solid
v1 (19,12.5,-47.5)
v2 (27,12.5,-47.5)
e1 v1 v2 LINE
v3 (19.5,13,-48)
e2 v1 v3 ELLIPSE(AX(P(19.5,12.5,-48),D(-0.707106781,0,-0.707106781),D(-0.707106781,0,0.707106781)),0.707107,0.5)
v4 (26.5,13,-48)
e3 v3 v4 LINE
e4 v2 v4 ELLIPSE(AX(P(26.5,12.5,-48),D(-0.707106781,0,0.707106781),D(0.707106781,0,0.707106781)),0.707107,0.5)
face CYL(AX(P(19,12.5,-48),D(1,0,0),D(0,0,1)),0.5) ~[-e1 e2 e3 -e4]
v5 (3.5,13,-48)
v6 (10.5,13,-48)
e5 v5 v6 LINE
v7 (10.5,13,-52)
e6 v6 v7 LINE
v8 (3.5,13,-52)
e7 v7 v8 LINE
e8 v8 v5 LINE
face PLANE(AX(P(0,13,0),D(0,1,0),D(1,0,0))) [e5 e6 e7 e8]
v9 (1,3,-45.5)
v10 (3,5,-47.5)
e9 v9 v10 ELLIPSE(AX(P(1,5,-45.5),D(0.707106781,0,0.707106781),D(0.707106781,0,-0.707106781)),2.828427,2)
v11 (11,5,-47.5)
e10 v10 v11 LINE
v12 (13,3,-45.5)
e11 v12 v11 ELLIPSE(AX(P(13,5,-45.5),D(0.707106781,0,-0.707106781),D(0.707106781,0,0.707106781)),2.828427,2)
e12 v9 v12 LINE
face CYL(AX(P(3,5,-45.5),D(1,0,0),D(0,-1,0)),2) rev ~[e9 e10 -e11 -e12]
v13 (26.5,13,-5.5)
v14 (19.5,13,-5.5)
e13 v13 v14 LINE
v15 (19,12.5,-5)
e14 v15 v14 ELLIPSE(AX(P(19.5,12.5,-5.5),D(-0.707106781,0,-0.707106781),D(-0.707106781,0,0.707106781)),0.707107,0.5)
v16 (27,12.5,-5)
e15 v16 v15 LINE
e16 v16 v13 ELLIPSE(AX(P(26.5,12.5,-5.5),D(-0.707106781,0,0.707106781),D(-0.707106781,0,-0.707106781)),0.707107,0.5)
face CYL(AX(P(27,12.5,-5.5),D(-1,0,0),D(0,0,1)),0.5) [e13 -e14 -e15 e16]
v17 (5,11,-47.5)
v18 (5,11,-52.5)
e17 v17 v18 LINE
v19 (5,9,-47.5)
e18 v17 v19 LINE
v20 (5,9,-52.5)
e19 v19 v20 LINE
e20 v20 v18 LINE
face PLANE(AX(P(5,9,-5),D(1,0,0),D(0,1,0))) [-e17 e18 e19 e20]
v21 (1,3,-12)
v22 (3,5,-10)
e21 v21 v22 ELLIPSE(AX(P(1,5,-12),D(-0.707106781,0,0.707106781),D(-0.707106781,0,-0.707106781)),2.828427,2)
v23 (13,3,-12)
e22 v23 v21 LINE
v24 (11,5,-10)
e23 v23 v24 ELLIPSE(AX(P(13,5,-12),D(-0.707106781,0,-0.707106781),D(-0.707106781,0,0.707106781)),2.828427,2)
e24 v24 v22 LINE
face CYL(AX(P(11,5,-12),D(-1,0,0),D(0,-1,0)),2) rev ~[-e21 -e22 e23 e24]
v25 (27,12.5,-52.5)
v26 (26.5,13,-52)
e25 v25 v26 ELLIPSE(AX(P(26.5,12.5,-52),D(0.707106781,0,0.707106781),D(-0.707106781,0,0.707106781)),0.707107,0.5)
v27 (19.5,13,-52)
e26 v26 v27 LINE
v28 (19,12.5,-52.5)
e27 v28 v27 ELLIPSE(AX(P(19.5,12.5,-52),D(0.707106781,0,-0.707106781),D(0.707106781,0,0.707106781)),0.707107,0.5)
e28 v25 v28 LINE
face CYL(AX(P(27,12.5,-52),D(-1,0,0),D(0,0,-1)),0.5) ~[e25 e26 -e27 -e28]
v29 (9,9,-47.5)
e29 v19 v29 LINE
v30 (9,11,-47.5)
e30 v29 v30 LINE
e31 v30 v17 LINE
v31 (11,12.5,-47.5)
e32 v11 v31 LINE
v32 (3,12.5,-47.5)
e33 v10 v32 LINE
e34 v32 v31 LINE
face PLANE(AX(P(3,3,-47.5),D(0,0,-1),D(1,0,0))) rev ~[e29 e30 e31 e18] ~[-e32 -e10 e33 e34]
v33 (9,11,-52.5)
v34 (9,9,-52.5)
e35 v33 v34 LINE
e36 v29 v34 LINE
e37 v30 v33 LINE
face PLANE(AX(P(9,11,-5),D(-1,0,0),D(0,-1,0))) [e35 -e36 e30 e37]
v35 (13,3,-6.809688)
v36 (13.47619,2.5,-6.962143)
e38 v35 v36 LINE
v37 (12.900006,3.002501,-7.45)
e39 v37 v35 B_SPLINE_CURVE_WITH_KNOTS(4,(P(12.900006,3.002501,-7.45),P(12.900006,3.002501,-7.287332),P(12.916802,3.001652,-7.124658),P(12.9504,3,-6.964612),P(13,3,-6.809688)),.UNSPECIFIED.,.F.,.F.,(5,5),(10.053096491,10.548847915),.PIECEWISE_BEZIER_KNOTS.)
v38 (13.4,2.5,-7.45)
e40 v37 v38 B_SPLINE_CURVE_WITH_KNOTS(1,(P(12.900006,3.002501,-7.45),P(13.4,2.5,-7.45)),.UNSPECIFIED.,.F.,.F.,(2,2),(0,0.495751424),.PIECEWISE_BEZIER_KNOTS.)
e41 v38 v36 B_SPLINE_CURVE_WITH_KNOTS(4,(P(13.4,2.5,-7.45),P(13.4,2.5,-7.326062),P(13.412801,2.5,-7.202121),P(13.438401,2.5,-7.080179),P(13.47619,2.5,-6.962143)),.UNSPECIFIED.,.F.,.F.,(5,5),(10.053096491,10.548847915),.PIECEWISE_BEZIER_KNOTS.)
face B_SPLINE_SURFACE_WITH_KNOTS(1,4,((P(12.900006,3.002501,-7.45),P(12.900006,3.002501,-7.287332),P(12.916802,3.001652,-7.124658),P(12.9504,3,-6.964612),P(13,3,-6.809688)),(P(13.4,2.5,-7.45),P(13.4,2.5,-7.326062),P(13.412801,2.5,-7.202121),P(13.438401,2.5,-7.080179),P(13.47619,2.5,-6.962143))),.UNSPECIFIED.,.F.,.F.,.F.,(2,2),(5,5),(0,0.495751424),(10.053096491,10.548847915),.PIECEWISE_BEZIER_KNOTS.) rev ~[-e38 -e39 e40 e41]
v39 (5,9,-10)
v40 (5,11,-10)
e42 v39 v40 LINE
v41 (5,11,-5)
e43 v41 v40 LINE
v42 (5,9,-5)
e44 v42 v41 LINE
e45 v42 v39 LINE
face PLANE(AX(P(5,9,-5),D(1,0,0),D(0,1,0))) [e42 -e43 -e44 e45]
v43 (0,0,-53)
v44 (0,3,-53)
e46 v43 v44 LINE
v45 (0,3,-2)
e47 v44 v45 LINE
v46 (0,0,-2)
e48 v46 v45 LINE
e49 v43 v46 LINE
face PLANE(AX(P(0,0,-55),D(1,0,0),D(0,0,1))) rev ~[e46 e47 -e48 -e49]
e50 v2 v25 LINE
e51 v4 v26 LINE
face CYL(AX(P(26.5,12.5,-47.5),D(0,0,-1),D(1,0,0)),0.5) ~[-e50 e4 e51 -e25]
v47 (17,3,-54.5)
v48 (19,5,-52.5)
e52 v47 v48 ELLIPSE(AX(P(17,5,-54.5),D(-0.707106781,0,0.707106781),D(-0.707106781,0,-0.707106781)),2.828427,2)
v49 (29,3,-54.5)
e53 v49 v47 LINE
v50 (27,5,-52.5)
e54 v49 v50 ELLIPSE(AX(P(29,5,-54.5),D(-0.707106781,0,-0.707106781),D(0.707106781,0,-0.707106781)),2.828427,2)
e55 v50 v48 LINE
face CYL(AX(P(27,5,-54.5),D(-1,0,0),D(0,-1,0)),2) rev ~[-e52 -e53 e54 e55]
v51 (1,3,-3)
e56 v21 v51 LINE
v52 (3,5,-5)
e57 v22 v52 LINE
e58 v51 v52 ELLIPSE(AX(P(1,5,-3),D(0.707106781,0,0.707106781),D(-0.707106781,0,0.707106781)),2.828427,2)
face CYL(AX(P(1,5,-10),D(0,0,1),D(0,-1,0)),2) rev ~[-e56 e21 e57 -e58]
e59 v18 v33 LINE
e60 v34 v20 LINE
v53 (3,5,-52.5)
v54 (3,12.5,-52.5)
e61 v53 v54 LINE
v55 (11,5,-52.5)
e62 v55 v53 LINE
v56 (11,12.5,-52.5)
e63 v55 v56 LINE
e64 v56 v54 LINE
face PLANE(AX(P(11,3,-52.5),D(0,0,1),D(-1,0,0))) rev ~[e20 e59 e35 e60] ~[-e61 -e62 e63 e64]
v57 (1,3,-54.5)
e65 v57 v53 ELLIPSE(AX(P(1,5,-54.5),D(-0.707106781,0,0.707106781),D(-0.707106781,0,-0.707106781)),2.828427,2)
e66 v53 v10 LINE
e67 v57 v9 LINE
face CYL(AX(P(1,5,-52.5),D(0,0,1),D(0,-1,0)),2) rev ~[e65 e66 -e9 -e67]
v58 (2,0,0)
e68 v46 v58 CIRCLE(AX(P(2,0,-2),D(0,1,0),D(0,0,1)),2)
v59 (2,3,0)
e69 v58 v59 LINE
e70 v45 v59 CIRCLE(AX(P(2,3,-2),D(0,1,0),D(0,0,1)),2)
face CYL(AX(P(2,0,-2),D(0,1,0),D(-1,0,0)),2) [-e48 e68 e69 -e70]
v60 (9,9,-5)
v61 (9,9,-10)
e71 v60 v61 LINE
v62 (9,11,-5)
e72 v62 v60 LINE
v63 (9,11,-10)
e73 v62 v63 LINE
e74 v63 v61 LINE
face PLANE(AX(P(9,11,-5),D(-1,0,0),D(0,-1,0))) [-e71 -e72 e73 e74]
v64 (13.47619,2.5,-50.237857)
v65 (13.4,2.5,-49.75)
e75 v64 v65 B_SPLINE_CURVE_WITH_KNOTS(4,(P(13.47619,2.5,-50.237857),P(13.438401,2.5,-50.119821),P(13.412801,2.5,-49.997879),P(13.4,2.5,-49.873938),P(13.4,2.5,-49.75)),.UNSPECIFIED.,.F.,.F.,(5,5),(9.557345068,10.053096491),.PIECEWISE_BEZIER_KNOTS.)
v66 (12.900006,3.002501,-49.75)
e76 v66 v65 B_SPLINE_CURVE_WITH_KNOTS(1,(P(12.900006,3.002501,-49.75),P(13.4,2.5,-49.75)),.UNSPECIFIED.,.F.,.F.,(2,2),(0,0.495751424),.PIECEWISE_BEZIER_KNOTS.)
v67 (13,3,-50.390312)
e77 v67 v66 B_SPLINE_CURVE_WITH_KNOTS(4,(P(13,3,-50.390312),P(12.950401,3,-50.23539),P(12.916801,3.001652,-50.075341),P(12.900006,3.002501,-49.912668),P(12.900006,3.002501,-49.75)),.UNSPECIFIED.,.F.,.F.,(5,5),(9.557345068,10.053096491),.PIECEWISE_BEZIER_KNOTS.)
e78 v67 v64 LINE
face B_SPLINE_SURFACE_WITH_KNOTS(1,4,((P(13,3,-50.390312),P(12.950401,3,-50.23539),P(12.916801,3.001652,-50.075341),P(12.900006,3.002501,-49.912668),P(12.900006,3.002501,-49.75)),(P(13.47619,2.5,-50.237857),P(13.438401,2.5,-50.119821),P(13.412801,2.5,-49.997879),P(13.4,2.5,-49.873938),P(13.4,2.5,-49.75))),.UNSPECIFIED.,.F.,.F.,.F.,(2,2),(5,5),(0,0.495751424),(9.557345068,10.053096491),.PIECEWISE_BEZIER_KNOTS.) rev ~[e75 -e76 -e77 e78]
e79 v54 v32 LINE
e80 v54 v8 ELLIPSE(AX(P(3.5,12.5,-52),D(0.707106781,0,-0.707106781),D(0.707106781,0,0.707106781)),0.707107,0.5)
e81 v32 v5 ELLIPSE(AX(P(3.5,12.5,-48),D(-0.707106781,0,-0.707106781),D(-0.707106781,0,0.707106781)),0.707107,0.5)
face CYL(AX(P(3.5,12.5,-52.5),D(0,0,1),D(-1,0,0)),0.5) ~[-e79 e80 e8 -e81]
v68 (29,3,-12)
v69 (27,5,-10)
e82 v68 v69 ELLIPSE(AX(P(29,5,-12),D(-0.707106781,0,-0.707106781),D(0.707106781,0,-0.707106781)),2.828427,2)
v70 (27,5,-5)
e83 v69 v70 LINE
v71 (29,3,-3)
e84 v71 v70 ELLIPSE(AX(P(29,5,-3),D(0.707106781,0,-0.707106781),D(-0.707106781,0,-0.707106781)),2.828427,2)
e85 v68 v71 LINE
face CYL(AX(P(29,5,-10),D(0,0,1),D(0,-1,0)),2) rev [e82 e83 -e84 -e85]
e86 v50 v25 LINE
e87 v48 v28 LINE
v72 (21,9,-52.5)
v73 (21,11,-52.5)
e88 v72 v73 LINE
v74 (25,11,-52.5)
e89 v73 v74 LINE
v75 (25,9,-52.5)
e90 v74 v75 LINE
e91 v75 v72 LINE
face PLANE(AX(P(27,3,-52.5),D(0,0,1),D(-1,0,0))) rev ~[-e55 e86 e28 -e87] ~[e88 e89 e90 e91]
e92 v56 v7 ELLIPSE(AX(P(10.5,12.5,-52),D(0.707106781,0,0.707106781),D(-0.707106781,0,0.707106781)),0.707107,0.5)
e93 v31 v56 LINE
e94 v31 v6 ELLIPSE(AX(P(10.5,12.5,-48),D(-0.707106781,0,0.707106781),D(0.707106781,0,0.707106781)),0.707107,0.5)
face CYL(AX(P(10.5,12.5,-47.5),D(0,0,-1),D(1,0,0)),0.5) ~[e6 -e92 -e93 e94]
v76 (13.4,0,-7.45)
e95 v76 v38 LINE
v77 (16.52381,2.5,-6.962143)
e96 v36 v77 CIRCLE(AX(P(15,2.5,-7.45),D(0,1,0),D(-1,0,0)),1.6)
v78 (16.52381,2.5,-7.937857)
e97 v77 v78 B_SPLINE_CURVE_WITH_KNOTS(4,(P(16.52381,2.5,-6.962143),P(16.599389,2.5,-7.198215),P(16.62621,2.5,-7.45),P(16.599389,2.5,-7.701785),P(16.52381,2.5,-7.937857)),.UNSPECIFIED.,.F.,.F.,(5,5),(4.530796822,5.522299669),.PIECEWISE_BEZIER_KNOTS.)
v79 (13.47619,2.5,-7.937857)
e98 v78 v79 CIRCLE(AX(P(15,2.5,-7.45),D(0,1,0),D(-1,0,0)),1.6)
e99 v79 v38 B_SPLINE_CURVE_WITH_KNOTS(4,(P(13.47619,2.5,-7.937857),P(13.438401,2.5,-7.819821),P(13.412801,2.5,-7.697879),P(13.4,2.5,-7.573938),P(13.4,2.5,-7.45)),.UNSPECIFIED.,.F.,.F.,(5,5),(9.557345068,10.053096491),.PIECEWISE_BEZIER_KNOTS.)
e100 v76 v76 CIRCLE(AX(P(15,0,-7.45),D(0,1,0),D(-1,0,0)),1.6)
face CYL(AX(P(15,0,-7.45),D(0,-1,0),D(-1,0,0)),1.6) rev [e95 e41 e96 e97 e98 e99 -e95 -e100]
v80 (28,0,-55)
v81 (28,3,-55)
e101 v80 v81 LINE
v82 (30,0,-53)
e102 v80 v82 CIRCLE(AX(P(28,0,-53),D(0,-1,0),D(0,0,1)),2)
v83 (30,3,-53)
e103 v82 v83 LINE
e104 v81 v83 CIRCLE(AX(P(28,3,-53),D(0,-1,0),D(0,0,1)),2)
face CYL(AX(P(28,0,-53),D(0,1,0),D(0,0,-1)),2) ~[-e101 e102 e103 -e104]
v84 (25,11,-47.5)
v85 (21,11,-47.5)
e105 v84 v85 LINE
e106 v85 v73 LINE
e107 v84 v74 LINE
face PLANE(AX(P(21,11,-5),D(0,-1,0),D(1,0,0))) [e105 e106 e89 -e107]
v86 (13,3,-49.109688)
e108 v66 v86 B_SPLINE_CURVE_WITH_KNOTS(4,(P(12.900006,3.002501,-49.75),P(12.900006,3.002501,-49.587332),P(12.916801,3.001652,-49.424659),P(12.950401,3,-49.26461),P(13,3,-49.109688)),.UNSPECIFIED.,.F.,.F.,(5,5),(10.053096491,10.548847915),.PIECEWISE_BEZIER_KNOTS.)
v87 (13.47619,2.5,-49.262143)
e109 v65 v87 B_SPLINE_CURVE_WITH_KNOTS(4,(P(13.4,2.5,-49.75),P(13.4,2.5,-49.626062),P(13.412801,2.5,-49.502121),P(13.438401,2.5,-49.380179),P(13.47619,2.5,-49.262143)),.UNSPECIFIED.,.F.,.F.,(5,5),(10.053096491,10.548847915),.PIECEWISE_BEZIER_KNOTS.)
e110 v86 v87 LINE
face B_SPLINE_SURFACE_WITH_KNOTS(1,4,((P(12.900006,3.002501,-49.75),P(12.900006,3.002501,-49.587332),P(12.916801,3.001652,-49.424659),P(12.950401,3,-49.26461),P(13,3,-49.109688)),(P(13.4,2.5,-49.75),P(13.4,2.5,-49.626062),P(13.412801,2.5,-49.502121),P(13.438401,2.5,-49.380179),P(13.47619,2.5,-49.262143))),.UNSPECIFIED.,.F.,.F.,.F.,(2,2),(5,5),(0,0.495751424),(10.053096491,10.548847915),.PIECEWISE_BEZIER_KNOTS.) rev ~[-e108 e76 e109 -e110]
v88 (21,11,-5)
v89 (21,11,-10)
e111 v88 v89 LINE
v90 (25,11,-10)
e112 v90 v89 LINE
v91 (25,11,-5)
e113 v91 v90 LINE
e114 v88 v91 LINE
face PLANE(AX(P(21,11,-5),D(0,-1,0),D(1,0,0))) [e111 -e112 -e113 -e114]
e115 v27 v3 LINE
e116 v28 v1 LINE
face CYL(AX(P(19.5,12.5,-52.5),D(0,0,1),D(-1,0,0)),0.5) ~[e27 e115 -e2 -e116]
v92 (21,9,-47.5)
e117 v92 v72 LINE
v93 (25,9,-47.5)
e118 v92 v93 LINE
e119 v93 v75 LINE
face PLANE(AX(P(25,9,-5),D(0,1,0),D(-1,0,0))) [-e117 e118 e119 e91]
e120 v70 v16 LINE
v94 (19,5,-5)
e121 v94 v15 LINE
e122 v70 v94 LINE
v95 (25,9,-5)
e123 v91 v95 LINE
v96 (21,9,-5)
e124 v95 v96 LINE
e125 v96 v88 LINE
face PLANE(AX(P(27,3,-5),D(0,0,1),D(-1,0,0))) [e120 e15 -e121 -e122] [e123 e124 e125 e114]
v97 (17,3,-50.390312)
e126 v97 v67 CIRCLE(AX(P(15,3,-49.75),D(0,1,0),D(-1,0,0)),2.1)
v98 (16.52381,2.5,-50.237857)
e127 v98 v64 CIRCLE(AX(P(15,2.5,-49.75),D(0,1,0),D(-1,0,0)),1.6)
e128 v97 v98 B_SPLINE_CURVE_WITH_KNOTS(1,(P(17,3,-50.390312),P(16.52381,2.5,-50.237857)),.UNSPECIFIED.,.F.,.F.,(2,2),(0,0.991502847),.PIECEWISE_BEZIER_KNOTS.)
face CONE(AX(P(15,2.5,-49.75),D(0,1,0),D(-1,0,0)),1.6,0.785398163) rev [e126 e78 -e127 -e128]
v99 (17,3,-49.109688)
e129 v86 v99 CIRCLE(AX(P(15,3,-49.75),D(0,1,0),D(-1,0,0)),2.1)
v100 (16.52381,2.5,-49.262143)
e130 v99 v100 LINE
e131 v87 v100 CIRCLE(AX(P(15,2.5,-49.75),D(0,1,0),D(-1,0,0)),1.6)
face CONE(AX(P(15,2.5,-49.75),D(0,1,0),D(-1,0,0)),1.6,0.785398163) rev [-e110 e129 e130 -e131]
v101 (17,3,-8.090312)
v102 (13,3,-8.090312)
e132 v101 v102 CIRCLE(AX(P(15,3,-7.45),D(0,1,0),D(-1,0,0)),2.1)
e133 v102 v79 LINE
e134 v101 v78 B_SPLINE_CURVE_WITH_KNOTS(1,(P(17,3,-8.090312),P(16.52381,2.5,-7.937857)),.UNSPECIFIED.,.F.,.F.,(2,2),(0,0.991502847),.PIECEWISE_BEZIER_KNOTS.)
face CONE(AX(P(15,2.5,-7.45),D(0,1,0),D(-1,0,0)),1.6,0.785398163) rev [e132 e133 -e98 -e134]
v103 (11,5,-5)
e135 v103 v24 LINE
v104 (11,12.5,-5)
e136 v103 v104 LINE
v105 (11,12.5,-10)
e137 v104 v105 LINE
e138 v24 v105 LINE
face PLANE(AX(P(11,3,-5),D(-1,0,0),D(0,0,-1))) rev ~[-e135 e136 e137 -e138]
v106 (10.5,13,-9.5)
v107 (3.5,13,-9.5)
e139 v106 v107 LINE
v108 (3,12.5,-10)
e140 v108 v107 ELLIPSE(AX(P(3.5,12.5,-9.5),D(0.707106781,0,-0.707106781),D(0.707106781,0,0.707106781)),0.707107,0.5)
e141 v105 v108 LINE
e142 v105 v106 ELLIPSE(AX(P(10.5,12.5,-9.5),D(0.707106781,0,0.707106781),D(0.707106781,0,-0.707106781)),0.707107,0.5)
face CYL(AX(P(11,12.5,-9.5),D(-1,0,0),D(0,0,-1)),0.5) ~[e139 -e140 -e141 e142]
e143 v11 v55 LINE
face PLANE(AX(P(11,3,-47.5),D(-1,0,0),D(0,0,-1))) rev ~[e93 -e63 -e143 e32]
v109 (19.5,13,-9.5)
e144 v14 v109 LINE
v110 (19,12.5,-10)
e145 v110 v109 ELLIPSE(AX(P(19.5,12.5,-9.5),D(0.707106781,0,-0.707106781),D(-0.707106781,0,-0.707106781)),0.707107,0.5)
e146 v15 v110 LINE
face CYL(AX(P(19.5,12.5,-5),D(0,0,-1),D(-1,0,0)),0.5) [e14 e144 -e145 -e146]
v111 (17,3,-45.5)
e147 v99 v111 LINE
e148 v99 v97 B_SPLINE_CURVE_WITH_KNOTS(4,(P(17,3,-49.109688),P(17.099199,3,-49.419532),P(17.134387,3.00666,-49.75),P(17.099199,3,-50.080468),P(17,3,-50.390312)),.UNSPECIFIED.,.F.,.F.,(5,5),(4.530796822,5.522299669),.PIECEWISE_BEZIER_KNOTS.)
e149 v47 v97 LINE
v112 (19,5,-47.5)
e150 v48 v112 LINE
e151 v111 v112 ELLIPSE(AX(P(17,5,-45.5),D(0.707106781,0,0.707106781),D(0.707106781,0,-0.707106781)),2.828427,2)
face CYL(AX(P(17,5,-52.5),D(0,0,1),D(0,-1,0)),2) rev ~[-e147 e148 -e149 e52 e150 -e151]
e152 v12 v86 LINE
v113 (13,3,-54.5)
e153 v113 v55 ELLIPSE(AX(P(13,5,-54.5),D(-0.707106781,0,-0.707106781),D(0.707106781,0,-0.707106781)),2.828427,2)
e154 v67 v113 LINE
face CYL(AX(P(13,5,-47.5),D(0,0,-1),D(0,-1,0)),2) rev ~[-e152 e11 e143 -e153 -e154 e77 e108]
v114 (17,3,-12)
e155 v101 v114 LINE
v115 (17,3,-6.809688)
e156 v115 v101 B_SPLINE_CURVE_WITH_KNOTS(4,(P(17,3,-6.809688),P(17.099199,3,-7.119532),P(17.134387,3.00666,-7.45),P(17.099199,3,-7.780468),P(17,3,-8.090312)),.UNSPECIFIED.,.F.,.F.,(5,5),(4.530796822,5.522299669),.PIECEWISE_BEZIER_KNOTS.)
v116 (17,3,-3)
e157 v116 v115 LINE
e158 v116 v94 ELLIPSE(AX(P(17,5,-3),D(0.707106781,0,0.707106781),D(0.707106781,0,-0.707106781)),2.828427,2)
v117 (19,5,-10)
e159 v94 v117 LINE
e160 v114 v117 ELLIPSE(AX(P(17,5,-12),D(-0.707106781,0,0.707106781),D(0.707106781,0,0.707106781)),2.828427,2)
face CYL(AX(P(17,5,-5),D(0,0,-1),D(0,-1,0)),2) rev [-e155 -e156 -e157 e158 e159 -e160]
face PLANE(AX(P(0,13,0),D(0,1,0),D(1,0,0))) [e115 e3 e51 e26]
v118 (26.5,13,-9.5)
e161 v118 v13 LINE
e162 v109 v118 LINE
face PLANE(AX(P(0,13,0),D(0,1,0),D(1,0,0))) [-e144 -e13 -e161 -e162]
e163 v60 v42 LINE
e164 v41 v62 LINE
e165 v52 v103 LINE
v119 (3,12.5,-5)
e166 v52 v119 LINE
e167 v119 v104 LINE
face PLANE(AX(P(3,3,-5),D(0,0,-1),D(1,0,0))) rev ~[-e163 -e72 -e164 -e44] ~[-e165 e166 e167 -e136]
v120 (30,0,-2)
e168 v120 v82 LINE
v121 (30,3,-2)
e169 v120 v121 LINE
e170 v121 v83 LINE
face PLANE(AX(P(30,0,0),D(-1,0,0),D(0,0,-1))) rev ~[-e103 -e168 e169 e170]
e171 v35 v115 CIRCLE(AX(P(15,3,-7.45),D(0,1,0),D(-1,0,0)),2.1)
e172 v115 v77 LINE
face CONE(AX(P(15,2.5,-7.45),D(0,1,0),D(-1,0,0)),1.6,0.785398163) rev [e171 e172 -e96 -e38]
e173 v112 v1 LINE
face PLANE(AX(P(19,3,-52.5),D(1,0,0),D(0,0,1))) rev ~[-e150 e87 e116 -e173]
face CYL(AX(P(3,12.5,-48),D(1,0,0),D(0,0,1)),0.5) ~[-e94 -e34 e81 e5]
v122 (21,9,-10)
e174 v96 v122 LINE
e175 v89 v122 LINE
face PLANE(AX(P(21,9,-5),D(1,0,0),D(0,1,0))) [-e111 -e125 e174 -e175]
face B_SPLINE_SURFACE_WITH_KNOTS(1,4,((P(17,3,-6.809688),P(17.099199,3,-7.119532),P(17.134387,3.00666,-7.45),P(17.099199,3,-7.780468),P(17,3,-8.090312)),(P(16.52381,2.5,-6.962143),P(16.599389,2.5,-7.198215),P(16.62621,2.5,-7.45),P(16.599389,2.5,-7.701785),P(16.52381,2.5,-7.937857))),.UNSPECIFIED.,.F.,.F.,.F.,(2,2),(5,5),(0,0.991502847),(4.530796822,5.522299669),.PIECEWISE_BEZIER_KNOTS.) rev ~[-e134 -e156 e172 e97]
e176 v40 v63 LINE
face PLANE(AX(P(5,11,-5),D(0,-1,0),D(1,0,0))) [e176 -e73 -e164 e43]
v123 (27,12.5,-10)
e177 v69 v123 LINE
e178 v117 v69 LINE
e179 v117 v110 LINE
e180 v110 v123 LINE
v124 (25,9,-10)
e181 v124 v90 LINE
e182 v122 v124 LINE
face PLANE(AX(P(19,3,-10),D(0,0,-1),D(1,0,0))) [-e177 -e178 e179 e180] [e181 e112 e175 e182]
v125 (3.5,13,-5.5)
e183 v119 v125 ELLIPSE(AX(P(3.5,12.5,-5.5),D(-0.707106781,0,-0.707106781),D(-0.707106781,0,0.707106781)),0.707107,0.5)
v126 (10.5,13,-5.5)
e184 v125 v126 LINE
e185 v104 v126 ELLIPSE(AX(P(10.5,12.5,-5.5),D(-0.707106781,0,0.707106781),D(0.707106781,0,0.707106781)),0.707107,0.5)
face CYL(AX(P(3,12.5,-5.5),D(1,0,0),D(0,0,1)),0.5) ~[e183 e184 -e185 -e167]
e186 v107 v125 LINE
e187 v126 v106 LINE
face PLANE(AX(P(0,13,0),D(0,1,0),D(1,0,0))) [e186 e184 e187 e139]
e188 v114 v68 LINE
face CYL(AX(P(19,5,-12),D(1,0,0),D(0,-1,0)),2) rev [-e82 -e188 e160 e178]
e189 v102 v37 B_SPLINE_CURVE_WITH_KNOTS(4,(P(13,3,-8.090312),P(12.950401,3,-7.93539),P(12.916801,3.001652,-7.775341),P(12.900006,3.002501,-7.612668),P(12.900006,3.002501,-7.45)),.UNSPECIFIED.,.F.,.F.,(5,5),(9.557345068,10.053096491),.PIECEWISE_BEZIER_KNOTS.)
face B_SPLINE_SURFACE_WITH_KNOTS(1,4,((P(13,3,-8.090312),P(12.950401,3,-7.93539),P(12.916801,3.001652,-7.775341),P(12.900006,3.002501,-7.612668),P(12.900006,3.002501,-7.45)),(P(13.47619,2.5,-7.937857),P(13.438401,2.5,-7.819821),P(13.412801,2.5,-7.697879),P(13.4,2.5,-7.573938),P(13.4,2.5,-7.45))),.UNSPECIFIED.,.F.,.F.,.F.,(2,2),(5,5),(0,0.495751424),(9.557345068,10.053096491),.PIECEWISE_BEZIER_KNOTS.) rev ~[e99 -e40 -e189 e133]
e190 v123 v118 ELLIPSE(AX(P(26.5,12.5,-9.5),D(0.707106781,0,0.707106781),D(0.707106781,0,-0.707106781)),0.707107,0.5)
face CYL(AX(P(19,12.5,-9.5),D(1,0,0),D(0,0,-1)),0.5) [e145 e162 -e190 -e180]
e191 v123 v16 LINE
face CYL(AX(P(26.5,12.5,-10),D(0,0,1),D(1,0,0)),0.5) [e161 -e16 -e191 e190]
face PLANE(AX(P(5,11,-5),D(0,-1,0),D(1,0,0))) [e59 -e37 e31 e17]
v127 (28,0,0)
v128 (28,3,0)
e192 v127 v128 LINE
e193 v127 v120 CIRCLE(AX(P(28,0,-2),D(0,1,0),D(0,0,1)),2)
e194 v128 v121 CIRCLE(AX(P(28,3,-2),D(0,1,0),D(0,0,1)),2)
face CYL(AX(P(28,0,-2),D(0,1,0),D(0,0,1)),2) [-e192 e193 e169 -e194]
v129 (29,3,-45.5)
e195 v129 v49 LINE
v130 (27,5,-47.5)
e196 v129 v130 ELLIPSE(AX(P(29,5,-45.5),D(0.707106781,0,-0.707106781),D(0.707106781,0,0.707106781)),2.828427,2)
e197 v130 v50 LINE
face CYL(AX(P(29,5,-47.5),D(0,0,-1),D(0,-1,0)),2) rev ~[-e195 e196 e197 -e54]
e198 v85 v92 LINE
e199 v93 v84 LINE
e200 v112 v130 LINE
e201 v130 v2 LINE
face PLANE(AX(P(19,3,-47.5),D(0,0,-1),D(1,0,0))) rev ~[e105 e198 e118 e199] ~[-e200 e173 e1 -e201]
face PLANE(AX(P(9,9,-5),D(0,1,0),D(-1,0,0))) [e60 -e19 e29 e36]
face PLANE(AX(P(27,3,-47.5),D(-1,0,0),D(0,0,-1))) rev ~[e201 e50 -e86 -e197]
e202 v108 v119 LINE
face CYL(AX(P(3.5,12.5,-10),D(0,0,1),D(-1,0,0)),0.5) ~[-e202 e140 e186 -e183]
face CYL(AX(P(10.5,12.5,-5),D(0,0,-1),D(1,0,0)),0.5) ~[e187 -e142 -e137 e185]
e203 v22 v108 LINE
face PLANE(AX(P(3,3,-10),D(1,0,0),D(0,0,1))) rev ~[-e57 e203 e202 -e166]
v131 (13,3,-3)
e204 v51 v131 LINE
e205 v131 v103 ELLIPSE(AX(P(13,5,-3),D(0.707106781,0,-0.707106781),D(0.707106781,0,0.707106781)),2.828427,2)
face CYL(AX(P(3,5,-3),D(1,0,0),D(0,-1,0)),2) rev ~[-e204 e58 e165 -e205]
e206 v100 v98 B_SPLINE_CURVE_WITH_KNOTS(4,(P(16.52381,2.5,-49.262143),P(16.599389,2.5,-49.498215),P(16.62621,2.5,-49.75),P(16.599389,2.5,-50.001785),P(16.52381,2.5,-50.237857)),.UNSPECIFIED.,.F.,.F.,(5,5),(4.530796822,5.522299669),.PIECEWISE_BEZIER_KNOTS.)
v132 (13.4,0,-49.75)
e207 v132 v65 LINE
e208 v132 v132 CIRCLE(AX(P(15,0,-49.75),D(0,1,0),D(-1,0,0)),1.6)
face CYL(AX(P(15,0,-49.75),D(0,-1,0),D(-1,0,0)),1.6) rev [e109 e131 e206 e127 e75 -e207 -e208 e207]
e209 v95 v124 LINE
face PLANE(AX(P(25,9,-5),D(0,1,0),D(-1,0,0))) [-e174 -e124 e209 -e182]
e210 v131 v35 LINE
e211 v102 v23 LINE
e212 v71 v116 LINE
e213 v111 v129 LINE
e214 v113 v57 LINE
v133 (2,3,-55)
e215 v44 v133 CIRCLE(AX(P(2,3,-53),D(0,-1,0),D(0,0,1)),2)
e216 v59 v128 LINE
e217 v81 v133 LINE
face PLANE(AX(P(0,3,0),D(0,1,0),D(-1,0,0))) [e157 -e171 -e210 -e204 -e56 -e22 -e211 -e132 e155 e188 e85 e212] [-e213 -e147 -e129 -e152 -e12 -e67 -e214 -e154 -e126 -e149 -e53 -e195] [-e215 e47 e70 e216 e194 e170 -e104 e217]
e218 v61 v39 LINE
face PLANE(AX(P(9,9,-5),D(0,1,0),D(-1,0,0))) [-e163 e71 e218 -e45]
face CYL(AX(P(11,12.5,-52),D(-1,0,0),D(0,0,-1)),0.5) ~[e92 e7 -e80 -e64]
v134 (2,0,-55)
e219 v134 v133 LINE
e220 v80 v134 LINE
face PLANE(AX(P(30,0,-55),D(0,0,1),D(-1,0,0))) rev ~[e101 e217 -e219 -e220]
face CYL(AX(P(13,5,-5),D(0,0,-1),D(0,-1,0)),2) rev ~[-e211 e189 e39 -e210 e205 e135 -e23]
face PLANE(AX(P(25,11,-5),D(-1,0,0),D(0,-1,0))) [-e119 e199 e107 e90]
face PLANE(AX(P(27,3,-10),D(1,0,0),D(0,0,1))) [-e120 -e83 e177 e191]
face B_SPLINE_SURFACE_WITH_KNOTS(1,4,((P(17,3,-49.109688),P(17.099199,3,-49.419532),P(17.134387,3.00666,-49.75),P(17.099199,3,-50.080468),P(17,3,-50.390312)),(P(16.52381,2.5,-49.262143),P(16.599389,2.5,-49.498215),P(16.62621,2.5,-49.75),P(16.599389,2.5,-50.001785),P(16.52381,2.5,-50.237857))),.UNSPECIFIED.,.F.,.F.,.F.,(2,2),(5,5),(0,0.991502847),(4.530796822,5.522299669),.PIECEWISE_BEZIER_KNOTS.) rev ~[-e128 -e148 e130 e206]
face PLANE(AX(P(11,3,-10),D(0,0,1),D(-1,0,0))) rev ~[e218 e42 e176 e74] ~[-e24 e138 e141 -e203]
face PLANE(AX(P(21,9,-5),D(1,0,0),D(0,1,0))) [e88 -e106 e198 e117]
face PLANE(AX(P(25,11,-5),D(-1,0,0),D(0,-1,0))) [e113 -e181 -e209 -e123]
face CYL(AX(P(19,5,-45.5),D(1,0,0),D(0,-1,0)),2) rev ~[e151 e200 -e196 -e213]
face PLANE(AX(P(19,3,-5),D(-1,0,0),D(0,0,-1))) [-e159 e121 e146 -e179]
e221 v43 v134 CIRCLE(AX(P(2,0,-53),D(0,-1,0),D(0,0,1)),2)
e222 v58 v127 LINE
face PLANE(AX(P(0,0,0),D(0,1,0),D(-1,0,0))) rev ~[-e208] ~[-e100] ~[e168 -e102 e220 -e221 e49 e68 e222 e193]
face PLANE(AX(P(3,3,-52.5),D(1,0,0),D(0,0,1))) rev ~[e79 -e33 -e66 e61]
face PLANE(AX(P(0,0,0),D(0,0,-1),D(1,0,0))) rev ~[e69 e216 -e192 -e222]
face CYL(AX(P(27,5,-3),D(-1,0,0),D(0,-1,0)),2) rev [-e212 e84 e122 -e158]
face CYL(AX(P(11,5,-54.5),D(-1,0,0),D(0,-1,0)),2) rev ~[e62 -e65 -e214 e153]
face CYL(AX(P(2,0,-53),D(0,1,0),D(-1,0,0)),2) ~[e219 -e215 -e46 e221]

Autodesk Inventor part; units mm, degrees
ref_plane "YZ Plane" through (0, 0, 0) normal (1, 0, 0) x (0, 1, 0)
ref_plane "XZ Plane" through (0, 0, 0) normal (0, 1, 0) x (-1, 0, 0)
ref_plane "XY Plane" through (0, 0, 0) normal (0, 0, 1) x (1, 0, 0)
sketch "Náčrt1" plane through (0, 0, 0) normal (0, 1, 0) x (-1, 0, 0)
  line L0 (0, 0) -> (-30, 0)
  line L1 (-30, 0) -> (-30, -55)
  line L2 (-30, -55) -> (0, -55)
  line L3 (0, -55) -> (0, 0)
  circle A0 centre (-15, -7.45) radius 1.6
  circle A1 centre (-15, -49.75) radius 1.6
  dimension "d1" = 3.2
  dimension "d2" = 3.2
  dimension "d3" = 55
  dimension "d4" = 30
  dimension "d5" = 15
  dimension "d6" = 15
  dimension "d11" = 5.25
  dimension "d12" = 7.45
extrude "Vysunutí1" add sketch "Náčrt1" along normal blind 3
sketch "Náčrt2" plane through (0, 3, 0) normal (0, 1, 0) x (1, 0, 0)
  line L0 (3, 5) -> (11, 5)
  line L1 (11, 5) -> (11, 10)
  line L2 (11, 10) -> (3, 10)
  line L3 (3, 10) -> (3, 5)
  line L4 (27, 5) -> (19, 5)
  line L5 (19, 5) -> (19, 10)
  line L6 (19, 10) -> (27, 10)
  line L7 (27, 10) -> (27, 5)
  line L8 (0, 55) -> (0, 0) projected
  line L9 (0, 0) -> (30, 0) projected
  line L10 (30, 0) -> (30, 55) projected
  line L11 (-2.5391, 27.5) -> (32.8549, 27.5) construction
  line L12 (3, 47.5) -> (11, 47.5)
  line L13 (11, 47.5) -> (11, 52.5)
  line L14 (11, 52.5) -> (3, 52.5)
  line L15 (3, 52.5) -> (3, 47.5)
  line L16 (19, 47.5) -> (27, 47.5)
  line L17 (27, 47.5) -> (27, 52.5)
  line L18 (27, 52.5) -> (19, 52.5)
  line L19 (19, 52.5) -> (19, 47.5)
  line L20 (30, 55) -> (0, 55) projected
  dimension "d15" = 3
  dimension "d16" = 8
  dimension "d17" = 5
  dimension "d18" = 5
  dimension "d19" = 5
  dimension "d20" = 3
  dimension "d21" = 8
  dimension "d22" = 5
  dimension "d23" = 5
  dimension "d24" = 8
  dimension "d25" = 2.5
  dimension "d26" = 2.5
  dimension "d27" = 8
  dimension "d28" = 5
  dimension "d29" = 3
  dimension "d30" = 3
extrude "Vysunutí2" add sketch "Náčrt2" along normal blind 10 contours L3 L2 L1 L0 | L4 L5 L6 L7 | L15 L14 L13 L12 | L19 L18 L17 L16
fillet "Zaoblení1" radius 2 20 edges at (7, 3, -10) (23, 3, -10) (7, 3, -47.5) (23, 3, -47.5) (27, 3, -50) (23, 3, -52.5) (19, 3, -50) (11, 3, -50) (7, 3, -52.5) (3, 3, -50) (3, 3, -7.5) (7, 3, -5) (19, 3, -7.5) (23, 3, -5) (11, 3, -7.5) (27, 3, -7.5) (30, 1.5, 0) (0, 1.5, 0) (30, 1.5, -55) (0, 1.5, -55)
sketch "Náčrt3" plane through (3, 13, -5) normal (0, 0, 1) x (1, 0, 0)
  line L0 (2, -2) -> (6, -2)
  line L1 (6, -2) -> (6, -4)
  line L2 (6, -4) -> (2, -4)
  line L3 (2, -4) -> (2, -2)
  line L4 (18, -2) -> (22, -2)
  line L5 (22, -2) -> (22, -4)
  line L6 (22, -4) -> (18, -4)
  line L7 (18, -4) -> (18, -2)
  line L8 (0, -8) -> (0, 0) projected
  line L9 (0, 0) -> (8, 0) projected
  line L10 (24, -8) -> (24, 0) projected
  point P0 (-3, -13)
  dimension "d34" = 4
  dimension "d35" = 2
  dimension "d36" = 2
  dimension "d37" = 2
  dimension "d38" = 4
  dimension "d39" = 2
  dimension "d40" = 2
extrude "Vysunutí3" cut sketch "Náčrt3" against normal blind 50
fillet "Zaoblení2" radius 0.5 16 edges at (3, 13, -7.5) (7, 13, -5) (11, 13, -7.5) (7, 13, -10) (23, 13, -5) (19, 13, -7.5) (23, 13, -10) (27, 13, -7.5) (3, 13, -50) (7, 13, -52.5) (7, 13, -47.5) (11, 13, -50) (19, 13, -50) (23, 13, -52.5) (23, 13, -47.5) (27, 13, -50)
chamfer "Zkosení1" distance 0.5 angle 45 2 edges at (16.6, 3, -7.45) (16.6, 3, -49.75)
properties part number "CableHolderMain"
